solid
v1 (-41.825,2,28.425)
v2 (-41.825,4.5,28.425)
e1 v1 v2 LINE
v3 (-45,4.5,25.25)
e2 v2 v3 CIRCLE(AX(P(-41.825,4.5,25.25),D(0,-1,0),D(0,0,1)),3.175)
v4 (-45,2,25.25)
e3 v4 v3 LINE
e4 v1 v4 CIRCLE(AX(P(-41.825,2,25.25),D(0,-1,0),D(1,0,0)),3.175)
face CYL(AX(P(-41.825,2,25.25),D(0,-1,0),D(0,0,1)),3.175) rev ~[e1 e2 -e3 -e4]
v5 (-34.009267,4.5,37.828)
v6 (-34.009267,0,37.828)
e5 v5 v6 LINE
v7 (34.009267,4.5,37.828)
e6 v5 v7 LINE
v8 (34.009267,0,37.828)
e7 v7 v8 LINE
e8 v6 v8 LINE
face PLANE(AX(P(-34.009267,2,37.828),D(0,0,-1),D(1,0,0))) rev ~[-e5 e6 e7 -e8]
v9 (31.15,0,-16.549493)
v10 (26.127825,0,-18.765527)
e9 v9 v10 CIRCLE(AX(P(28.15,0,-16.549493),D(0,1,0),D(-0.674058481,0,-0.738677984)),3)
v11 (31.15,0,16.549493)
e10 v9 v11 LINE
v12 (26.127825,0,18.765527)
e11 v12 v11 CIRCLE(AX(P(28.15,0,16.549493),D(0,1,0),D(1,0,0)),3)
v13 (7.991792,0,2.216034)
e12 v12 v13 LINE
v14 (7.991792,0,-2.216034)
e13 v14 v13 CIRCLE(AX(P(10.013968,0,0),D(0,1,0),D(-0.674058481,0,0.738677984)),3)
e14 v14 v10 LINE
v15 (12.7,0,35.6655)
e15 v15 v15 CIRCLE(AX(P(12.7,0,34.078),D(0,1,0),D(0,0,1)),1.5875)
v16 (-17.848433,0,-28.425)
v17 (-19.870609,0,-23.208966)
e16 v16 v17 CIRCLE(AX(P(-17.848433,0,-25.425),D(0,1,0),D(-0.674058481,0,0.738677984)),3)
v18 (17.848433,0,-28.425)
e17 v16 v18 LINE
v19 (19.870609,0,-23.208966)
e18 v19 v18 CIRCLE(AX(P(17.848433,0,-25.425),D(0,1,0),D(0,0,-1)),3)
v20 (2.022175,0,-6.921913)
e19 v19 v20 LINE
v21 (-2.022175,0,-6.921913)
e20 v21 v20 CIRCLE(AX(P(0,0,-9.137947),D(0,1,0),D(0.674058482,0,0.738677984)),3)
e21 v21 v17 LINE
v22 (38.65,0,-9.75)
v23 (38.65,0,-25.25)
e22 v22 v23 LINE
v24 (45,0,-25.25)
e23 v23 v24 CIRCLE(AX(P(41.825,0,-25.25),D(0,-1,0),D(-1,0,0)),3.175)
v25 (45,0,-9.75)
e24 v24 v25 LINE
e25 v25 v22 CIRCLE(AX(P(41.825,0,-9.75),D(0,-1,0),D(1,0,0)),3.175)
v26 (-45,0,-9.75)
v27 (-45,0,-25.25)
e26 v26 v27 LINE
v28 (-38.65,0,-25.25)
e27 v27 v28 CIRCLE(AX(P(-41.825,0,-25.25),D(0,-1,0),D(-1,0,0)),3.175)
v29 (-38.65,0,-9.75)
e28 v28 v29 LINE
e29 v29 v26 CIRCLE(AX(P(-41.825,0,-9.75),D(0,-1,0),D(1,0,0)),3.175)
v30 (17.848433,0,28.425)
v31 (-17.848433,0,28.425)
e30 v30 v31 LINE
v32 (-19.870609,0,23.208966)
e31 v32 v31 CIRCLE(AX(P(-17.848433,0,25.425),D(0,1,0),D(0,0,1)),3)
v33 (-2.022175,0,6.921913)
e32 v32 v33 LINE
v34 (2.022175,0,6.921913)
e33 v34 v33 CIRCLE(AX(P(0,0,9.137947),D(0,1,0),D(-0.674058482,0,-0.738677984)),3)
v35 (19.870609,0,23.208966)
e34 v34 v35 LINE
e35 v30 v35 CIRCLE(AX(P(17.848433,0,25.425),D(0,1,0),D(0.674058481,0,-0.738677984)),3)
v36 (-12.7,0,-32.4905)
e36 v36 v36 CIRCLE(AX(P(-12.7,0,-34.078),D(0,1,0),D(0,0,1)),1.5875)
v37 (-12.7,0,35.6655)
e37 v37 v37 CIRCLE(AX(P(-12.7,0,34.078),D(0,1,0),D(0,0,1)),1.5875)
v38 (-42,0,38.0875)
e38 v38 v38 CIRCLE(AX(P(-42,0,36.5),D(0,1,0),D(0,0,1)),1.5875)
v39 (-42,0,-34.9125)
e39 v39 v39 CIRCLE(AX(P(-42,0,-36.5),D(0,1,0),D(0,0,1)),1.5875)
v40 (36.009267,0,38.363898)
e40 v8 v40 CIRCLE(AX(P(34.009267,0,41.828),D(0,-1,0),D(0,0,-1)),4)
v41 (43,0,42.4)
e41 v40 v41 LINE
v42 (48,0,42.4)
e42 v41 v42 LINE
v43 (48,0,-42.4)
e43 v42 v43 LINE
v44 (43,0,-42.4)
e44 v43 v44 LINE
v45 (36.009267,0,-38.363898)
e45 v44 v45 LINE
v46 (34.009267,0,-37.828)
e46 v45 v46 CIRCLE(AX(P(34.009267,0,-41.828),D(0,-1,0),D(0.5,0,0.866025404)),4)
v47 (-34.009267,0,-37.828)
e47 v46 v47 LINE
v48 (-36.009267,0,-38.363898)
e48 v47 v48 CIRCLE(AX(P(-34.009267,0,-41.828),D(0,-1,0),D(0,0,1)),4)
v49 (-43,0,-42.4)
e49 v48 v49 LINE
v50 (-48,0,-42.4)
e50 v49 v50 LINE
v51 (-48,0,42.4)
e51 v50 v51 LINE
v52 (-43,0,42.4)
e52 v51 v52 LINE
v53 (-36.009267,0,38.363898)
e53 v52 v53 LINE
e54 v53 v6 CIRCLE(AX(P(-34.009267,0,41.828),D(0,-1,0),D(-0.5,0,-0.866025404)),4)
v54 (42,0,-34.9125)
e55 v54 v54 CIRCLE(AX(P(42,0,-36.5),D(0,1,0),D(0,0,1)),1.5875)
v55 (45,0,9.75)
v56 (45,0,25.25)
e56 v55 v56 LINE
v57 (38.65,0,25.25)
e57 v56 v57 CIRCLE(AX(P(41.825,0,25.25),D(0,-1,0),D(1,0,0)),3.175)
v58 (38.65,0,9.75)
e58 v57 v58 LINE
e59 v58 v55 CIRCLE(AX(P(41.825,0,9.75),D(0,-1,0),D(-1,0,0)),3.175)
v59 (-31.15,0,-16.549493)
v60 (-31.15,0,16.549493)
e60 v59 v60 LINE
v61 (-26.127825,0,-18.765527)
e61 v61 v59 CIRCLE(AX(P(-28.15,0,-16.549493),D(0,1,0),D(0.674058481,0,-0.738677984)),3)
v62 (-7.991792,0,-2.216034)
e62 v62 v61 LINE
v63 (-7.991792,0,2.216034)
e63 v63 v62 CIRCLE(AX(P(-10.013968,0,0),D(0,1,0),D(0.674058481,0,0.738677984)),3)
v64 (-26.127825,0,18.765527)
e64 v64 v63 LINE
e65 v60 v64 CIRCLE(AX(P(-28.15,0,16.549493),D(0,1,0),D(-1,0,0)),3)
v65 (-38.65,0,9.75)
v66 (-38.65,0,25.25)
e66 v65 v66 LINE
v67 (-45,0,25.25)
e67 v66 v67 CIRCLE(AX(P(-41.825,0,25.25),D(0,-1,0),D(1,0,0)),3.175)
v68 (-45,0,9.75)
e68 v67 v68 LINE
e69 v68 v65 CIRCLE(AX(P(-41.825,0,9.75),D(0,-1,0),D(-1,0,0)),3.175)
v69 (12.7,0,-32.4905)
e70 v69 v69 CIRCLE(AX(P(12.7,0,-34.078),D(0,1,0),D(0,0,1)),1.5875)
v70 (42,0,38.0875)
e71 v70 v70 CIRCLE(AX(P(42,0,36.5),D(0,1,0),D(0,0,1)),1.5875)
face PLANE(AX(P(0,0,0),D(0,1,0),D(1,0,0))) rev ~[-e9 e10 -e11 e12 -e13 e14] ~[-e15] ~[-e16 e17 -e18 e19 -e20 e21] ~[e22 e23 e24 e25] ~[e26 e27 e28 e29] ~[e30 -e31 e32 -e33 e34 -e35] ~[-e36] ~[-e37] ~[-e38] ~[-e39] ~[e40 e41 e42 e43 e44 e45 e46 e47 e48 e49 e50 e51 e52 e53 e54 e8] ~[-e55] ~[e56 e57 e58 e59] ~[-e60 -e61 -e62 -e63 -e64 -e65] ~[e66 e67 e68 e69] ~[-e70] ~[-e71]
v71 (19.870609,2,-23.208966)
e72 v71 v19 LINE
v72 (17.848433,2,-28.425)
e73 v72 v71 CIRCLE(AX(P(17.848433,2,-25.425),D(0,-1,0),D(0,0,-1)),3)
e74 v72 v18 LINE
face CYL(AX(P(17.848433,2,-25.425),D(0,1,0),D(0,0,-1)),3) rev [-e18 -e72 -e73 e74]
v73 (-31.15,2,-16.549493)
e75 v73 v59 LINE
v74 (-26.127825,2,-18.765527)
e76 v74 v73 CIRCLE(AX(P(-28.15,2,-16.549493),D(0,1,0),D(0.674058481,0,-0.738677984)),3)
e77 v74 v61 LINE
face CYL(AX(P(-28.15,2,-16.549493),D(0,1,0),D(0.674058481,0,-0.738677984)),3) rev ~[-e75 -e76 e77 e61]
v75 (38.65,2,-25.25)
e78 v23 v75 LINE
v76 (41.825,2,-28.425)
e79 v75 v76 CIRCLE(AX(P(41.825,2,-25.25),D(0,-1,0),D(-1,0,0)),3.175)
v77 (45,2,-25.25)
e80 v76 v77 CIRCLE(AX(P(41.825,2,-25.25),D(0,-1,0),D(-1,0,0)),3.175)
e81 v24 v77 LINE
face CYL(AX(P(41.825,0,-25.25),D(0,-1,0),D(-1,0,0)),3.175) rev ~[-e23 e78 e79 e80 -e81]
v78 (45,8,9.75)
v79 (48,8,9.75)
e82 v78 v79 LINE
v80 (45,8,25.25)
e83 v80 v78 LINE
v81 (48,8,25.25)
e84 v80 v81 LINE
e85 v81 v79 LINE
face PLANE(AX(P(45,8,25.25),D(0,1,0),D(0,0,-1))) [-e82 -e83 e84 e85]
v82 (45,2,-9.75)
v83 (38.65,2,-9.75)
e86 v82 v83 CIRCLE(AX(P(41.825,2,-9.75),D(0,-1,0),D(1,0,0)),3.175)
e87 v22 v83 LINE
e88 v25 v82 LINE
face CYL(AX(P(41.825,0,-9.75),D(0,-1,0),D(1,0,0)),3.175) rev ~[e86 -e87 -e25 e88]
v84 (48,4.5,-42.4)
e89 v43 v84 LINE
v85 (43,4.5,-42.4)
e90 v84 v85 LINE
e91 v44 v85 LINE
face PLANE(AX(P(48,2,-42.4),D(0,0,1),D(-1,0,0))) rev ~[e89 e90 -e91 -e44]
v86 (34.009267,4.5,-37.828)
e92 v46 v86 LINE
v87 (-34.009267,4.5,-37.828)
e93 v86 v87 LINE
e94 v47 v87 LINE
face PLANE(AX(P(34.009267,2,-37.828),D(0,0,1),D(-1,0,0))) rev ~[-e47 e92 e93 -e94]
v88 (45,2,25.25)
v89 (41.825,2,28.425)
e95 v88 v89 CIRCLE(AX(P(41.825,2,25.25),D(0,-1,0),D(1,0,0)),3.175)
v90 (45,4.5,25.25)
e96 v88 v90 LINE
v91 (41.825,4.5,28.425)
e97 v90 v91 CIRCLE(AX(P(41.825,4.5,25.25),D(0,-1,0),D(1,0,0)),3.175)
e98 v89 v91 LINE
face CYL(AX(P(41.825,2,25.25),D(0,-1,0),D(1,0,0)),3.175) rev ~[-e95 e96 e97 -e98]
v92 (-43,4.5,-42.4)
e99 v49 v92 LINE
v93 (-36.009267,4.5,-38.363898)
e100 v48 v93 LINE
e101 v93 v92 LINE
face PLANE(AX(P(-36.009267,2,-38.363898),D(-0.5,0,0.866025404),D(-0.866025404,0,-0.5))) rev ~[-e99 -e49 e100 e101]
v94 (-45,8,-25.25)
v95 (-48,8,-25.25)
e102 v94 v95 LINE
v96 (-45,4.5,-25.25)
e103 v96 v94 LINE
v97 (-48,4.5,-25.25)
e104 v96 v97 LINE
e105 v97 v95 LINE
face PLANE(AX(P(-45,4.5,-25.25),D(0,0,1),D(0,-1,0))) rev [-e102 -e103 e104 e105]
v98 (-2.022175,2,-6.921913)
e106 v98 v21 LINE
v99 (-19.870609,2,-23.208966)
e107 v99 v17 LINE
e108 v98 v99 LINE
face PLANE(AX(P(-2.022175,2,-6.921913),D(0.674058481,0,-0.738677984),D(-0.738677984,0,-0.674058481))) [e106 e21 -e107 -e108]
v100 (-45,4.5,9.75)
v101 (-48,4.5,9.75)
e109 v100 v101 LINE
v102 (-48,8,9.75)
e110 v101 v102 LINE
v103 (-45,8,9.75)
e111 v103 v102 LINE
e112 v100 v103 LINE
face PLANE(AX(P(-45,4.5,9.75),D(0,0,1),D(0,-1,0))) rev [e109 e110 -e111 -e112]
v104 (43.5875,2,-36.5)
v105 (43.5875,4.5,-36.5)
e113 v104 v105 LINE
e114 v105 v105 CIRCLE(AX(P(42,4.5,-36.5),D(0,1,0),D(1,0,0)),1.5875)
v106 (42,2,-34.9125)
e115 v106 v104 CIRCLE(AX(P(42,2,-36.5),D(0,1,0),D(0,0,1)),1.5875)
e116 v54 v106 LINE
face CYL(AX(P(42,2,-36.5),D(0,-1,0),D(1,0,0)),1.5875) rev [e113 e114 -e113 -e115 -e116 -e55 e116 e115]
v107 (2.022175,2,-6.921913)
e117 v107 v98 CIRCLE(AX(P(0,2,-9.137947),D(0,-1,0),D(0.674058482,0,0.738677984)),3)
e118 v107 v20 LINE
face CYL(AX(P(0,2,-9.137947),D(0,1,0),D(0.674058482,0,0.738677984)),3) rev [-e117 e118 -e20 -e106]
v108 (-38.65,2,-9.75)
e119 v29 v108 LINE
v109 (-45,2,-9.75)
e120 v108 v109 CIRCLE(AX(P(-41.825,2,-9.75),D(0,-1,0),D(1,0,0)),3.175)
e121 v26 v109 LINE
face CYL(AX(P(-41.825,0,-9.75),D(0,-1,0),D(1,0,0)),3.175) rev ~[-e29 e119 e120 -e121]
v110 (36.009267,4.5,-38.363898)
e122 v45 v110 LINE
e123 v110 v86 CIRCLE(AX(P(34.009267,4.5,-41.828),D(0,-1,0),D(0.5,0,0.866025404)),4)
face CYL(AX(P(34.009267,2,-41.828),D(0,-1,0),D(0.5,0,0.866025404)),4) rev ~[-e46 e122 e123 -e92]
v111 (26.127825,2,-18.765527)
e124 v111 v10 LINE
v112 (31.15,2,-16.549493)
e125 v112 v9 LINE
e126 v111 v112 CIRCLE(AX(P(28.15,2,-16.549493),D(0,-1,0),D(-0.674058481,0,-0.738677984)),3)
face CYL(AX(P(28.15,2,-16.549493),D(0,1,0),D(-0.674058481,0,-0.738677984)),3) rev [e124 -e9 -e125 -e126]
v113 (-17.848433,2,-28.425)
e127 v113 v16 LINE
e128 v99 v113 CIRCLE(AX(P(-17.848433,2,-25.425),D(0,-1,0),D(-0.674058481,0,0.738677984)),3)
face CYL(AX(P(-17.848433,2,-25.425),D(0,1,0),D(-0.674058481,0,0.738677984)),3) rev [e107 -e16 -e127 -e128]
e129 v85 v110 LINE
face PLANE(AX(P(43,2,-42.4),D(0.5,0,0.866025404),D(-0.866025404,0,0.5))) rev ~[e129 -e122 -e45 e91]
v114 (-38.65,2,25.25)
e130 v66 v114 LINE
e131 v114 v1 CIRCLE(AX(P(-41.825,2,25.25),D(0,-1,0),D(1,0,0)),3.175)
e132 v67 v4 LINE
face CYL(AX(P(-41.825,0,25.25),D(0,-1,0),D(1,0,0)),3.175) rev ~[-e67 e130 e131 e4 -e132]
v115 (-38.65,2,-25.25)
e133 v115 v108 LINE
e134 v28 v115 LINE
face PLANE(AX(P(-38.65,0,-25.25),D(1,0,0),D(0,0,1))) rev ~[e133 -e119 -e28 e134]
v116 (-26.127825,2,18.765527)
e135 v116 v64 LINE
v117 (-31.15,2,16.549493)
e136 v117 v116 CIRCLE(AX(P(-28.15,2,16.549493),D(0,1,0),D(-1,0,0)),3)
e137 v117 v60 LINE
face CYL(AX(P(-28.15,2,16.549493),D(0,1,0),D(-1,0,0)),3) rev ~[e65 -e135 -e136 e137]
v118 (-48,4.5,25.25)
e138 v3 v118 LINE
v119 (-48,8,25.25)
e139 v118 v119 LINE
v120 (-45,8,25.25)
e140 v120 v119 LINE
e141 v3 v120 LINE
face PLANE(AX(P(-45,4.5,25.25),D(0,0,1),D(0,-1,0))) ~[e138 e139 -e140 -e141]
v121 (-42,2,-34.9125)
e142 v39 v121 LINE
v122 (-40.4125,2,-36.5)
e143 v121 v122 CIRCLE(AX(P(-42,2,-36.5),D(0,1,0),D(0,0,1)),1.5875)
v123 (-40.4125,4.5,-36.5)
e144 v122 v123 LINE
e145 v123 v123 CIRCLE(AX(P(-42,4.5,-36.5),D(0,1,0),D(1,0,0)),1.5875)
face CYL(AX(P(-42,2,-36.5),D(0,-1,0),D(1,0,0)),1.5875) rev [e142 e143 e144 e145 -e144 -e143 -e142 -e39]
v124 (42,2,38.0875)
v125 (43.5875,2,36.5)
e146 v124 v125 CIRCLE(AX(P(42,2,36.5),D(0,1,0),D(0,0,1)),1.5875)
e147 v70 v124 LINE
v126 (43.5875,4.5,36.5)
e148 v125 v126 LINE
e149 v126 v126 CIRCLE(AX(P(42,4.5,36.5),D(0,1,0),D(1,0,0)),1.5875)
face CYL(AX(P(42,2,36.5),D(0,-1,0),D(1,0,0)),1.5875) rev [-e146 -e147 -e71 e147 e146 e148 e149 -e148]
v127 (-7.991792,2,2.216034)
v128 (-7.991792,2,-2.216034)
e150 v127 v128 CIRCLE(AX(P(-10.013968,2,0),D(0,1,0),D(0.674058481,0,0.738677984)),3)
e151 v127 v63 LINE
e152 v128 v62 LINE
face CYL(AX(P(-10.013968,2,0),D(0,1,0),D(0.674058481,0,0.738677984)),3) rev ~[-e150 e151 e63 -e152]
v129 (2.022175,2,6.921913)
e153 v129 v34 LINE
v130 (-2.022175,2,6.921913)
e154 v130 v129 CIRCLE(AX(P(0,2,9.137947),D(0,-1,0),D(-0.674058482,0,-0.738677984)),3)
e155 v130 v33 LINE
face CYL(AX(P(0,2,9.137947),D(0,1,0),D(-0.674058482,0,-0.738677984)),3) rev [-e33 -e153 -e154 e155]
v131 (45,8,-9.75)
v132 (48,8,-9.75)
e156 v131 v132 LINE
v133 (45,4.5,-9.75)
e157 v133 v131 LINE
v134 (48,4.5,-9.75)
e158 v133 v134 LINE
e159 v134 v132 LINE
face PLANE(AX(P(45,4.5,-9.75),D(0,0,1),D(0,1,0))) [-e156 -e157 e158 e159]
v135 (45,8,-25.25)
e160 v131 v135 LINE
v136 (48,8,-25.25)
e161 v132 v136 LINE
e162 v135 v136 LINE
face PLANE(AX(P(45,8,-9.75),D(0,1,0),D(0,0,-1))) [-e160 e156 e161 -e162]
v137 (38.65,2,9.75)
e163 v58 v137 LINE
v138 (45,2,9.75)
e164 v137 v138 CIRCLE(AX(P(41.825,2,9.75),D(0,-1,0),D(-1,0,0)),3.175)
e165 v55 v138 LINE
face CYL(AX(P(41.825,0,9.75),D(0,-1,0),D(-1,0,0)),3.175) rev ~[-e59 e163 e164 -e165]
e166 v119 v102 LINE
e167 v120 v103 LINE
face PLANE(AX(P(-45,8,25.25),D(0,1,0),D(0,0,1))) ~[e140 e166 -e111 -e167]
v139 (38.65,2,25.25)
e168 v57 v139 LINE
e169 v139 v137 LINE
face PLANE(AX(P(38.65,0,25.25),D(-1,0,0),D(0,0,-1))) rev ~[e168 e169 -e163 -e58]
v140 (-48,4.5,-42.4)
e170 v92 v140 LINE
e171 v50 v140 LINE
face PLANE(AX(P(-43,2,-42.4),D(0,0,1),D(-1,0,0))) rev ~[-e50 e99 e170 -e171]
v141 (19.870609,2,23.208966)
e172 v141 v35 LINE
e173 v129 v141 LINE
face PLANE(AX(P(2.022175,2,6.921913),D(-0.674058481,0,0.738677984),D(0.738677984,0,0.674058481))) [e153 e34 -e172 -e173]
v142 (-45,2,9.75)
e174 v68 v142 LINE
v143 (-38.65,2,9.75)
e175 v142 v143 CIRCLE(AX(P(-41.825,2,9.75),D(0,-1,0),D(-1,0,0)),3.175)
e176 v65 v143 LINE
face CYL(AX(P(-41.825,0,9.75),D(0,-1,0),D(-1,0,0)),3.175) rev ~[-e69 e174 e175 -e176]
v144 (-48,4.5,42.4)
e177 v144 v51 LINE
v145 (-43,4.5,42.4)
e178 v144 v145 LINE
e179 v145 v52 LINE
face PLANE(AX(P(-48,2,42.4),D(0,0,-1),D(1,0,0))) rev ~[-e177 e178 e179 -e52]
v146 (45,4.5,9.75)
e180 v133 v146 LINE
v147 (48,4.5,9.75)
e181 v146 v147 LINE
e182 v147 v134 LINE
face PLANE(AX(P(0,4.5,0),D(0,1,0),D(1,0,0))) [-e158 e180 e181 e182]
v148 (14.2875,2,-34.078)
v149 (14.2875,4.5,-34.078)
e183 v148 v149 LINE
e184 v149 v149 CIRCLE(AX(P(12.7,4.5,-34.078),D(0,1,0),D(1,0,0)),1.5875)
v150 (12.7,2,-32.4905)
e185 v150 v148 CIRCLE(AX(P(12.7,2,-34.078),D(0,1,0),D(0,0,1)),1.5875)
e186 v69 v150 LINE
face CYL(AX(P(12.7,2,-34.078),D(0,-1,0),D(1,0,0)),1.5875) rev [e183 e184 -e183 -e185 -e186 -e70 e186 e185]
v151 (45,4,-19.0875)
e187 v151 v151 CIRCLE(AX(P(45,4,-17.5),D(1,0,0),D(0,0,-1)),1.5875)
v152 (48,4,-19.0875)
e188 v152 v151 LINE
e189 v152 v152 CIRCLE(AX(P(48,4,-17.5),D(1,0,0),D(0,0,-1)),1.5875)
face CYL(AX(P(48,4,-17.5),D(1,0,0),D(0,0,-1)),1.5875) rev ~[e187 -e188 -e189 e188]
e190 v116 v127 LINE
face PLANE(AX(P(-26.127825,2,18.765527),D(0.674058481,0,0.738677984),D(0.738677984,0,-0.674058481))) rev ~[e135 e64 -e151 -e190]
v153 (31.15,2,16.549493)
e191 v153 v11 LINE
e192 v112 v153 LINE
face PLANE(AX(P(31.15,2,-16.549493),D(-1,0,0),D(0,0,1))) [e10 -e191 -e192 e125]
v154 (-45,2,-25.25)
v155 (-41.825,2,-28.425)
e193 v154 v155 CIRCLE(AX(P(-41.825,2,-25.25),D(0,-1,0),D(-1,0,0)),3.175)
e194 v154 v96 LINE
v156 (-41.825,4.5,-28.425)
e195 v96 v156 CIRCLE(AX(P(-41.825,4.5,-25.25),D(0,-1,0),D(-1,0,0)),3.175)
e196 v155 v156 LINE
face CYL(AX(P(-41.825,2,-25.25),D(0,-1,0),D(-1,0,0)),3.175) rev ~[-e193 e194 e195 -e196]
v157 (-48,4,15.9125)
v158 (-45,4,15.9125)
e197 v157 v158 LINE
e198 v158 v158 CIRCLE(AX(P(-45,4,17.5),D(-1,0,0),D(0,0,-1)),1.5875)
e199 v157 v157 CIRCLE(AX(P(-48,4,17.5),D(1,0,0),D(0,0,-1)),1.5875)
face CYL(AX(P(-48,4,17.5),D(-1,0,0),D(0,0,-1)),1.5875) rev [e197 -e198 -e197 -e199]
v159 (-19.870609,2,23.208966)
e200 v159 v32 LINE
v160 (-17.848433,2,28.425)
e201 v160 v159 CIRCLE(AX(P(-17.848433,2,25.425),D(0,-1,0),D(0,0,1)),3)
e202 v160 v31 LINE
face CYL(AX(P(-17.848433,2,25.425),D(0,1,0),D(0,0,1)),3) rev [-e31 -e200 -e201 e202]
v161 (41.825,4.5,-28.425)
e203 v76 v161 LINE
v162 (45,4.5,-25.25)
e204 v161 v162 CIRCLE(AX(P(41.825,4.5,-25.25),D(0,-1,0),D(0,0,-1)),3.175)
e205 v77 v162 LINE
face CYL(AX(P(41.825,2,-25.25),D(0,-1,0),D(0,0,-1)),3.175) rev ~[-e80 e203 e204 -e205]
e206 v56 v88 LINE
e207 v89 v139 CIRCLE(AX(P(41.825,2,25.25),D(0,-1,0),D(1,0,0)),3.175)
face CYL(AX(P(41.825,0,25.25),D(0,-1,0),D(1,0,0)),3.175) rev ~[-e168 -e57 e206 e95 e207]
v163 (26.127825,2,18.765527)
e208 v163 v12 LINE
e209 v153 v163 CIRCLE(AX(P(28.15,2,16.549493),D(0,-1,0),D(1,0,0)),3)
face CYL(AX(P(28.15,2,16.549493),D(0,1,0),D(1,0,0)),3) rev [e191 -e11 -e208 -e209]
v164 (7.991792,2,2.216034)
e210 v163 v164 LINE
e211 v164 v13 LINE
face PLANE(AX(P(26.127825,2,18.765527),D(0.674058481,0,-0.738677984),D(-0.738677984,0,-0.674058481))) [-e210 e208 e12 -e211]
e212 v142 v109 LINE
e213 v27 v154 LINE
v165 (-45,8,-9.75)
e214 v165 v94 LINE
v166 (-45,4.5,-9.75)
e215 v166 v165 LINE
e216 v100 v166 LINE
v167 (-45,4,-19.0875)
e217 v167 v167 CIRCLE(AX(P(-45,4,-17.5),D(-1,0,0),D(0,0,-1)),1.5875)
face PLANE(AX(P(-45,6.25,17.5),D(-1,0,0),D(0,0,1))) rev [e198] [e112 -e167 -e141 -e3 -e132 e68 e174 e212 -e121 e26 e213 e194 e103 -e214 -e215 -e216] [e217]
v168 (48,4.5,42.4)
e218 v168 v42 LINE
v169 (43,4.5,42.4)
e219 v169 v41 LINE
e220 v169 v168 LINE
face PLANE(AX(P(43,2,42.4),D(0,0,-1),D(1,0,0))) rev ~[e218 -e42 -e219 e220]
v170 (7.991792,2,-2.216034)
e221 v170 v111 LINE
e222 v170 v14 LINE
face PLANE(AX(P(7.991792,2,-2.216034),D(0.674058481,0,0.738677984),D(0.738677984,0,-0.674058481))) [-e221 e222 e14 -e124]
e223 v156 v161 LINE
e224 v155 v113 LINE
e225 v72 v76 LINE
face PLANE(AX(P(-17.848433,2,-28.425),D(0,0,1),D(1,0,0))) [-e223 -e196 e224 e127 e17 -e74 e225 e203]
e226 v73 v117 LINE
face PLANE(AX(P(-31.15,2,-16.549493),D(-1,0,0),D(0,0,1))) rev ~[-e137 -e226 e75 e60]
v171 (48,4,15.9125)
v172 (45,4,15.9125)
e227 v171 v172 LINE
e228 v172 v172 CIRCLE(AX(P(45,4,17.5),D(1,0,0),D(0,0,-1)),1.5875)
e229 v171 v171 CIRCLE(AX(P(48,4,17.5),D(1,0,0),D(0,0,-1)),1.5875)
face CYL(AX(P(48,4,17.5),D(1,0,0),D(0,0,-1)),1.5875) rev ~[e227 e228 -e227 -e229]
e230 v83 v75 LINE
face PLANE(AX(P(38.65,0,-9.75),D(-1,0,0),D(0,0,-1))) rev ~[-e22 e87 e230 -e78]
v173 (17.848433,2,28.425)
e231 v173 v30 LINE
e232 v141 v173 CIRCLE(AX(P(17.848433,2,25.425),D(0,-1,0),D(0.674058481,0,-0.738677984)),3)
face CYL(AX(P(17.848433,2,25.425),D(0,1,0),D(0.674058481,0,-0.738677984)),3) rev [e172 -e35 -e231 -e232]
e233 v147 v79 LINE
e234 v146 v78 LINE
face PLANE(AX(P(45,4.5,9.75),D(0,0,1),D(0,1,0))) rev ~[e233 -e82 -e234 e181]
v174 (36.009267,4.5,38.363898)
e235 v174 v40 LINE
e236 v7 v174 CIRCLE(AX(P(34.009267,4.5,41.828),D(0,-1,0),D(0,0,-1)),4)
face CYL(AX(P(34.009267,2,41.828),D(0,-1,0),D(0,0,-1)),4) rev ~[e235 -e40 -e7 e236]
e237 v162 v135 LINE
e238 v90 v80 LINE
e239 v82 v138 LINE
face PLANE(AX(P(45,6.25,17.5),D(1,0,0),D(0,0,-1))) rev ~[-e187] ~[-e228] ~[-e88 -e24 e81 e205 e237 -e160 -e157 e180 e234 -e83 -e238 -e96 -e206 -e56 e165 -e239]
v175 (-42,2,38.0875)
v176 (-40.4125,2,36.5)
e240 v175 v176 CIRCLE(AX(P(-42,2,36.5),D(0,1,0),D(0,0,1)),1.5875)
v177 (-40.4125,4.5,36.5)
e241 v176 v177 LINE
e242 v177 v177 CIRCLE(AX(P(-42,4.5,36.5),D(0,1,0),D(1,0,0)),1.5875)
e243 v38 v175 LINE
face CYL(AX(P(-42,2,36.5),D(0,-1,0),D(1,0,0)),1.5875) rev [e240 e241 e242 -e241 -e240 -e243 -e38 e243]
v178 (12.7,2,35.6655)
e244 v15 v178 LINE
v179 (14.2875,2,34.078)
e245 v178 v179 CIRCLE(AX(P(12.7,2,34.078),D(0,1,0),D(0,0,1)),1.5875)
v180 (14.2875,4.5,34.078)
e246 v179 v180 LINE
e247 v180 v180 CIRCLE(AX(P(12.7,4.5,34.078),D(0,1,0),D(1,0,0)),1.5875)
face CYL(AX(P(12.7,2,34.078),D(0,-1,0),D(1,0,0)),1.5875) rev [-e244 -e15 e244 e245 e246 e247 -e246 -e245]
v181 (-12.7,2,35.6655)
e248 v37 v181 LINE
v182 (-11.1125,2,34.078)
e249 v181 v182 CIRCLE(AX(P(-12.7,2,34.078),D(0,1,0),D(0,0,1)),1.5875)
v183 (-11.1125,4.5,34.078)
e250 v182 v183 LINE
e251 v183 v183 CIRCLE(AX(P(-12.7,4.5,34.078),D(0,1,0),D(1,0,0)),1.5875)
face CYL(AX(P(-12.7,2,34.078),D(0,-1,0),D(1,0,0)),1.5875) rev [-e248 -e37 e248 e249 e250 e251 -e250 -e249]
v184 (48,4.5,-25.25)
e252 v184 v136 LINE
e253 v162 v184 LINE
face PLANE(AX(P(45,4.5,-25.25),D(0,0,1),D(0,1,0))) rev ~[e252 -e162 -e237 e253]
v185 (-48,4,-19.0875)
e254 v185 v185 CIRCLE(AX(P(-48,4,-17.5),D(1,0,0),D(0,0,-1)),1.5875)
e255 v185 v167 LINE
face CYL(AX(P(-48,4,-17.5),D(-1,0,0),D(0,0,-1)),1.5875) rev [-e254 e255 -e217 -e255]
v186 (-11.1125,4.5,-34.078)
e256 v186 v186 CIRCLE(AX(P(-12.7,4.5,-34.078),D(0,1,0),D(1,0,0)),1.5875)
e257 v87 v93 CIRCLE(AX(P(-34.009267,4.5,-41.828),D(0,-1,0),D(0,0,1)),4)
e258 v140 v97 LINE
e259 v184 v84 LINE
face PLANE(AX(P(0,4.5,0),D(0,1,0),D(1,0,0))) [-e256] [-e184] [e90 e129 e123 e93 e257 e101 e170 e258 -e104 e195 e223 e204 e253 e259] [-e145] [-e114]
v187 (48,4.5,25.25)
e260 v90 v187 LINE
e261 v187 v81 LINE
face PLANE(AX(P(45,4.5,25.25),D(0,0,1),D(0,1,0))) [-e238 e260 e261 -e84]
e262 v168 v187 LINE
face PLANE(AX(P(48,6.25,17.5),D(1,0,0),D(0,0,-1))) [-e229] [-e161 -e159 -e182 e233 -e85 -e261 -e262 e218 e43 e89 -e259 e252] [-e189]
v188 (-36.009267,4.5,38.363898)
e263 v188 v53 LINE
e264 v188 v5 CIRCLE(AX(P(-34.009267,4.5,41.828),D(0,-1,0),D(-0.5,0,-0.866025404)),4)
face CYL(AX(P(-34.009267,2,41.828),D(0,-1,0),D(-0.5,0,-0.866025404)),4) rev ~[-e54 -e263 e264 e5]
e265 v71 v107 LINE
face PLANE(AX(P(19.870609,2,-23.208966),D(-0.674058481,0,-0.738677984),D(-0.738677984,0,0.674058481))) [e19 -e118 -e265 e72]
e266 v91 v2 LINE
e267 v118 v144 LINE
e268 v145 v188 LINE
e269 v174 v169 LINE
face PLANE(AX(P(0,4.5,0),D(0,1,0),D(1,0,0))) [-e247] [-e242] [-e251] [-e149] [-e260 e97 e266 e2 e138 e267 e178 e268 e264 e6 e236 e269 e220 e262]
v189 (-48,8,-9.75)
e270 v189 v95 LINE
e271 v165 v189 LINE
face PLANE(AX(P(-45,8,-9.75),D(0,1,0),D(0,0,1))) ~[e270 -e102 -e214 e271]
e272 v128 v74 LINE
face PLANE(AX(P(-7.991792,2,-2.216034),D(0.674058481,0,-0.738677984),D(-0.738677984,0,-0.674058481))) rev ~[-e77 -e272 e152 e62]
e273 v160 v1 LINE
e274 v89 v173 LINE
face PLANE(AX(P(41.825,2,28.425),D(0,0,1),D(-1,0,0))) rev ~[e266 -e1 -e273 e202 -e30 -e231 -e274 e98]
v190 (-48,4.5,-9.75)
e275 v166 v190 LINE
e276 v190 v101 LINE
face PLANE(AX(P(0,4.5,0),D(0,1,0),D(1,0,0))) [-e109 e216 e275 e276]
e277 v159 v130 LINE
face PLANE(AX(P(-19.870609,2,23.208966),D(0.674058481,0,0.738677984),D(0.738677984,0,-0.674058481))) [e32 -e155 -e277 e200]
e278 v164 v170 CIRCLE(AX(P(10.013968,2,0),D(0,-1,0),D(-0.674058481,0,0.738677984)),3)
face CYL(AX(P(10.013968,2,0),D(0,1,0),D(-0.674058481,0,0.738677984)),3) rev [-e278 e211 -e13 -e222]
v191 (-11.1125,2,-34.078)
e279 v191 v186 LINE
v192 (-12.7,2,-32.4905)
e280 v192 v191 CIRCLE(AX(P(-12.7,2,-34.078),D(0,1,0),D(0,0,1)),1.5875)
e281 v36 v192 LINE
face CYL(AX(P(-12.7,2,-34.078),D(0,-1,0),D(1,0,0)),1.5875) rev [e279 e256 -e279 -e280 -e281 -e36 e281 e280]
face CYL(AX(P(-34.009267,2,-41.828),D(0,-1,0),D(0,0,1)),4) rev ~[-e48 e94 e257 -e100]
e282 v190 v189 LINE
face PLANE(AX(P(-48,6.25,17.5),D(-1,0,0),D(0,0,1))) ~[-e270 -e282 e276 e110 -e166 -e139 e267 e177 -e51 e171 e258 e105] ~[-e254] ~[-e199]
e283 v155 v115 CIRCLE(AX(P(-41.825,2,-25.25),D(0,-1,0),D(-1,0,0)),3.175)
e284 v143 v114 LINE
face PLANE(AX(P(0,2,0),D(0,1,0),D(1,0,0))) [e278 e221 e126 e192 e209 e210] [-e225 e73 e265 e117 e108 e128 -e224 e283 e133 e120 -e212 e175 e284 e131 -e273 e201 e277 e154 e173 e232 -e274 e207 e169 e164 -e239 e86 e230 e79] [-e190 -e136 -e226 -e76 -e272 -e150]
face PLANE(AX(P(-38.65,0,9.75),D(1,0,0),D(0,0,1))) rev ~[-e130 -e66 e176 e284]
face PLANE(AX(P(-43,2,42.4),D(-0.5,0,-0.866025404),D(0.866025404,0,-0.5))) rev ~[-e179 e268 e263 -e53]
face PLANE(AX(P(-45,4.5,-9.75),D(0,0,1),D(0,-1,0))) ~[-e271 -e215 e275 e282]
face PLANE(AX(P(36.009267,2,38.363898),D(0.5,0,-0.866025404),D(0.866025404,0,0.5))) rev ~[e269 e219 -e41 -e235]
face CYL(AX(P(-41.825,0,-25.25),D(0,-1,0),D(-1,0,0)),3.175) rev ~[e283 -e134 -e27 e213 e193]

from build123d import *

# Parameters (mm, degrees)
SKETCH1_R           = 1.5875
BOSS_EXTRUDE1_DEPTH = 2
SKETCH2_R           = 1.5875
BOSS_EXTRUDE2_DEPTH = 2.5
BOSS_EXTRUDE3_START = -3
SKETCH3_W           = 15.5
SKETCH3_H           = 3.5
BOSS_EXTRUDE3_DEPTH = 3
SKETCH4_R           = 1.5875
CUT_EXTRUDE1_DEPTH  = 5
CUT_EXTRUDE2_DEPTH  = 65.325422657


with BuildPart() as part:
    # Sketch1 → Boss-Extrude1 (new body)
    with BuildSketch(Plane(origin=(0, 0, 0), x_dir=(1, 0, 0), z_dir=(0, 1, 0))):
        with BuildLine():
            Line((-48, -42.4), (-43, -42.4))
            Line((-43, -42.4), (-36.009266938, -38.363898385))
            ThreePointArc((-36.009266938, -38.363898385), (-35.044543118, -37.964296695), (-34.009266938, -37.828))
            Line((-34.009266938, -37.828), (34.009266938, -37.828))
            ThreePointArc((34.009266938, -37.828), (35.044543118, -37.964296695), (36.009266938, -38.363898385))
            Line((36.009266938, -38.363898385), (43, -42.4))
            Line((43, -42.4), (48, -42.4))
            Line((48, -42.4), (48, 42.4))
            Line((48, 42.4), (43, 42.4))
            Line((43, 42.4), (36.009266938, 38.363898385))
            ThreePointArc((36.009266938, 38.363898385), (35.044543118, 37.964296695), (34.009266938, 37.828))
            Line((34.009266938, 37.828), (-34.009266938, 37.828))
            ThreePointArc((-34.009266938, 37.828), (-35.044543118, 37.964296695), (-36.009266938, 38.363898385))
            Line((-36.009266938, 38.363898385), (-43, 42.4))
            Line((-43, 42.4), (-48, 42.4))
            Line((-48, 42.4), (-48, -42.4))
        make_face()
        with Locations(Location((-12.7, -34.078, 0), (0, 0, 270))):
            Circle(SKETCH1_R, mode=Mode.SUBTRACT)
        with Locations(Location((12.7, -34.078, 0), (0, 0, 270))):
            Circle(SKETCH1_R, mode=Mode.SUBTRACT)
        with Locations(Location((-12.7, 34.078, 0), (0, 0, 270))):
            Circle(SKETCH1_R, mode=Mode.SUBTRACT)
        with Locations(Location((12.7, 34.078, 0), (0, 0, 270))):
            Circle(SKETCH1_R, mode=Mode.SUBTRACT)
        with Locations(Location((-42, 36.5, 0), (0, 0, 270))):
            Circle(SKETCH1_R, mode=Mode.SUBTRACT)
        with Locations(Location((42, 36.5, 0), (0, 0, 270))):
            Circle(SKETCH1_R, mode=Mode.SUBTRACT)
        with Locations(Location((42, -36.5, 0), (0, 0, 270))):
            Circle(SKETCH1_R, mode=Mode.SUBTRACT)
        with Locations(Location((-42, -36.5, 0), (0, 0, 270))):
            Circle(SKETCH1_R, mode=Mode.SUBTRACT)
        with BuildLine():
            Line((-38.65, 25.25), (-38.65, 9.75))
            ThreePointArc((-38.65, 9.75), (-41.825, 6.575), (-45, 9.75))
            Line((-45, 9.75), (-45, 25.25))
            ThreePointArc((-45, 25.25), (-41.825, 28.425), (-38.65, 25.25))
        make_face(mode=Mode.SUBTRACT)
        with BuildLine():
            Line((-38.65, -9.75), (-38.65, -25.25))
            ThreePointArc((-38.65, -25.25), (-41.825, -28.425), (-45, -25.25))
            Line((-45, -25.25), (-45, -9.75))
            ThreePointArc((-45, -9.75), (-41.825, -6.575), (-38.65, -9.75))
        make_face(mode=Mode.SUBTRACT)
        with BuildLine():
            Line((45, 25.25), (45, 9.75))
            ThreePointArc((45, 9.75), (41.825, 6.575), (38.65, 9.75))
            Line((38.65, 9.75), (38.65, 25.25))
            ThreePointArc((38.65, 25.25), (41.825, 28.425), (45, 25.25))
        make_face(mode=Mode.SUBTRACT)
        with BuildLine():
            Line((45, -9.75), (45, -25.25))
            ThreePointArc((45, -25.25), (41.825, -28.425), (38.65, -25.25))
            Line((38.65, -25.25), (38.65, -9.75))
            ThreePointArc((38.65, -9.75), (41.825, -6.575), (45, -9.75))
        make_face(mode=Mode.SUBTRACT)
    extrude(amount=BOSS_EXTRUDE1_DEPTH)

    # Sketch2 → Boss-Extrude2 (add)
    with BuildSketch(Plane(origin=(0, 2, 0), x_dir=(1, 0, 0), z_dir=(0, 1, 0))):
        with BuildLine():
            Line((48, -42.4), (48, 42.4))
            Line((48, 42.4), (43, 42.4))
            Line((43, 42.4), (36.009266938, 38.363898385))
            ThreePointArc((36.009266938, 38.363898385), (35.044543118, 37.964296695), (34.009266938, 37.828))
            Line((34.009266938, 37.828), (-34.009266938, 37.828))
            ThreePointArc((-34.009266938, 37.828), (-35.044543118, 37.964296695), (-36.009266938, 38.363898385))
            Line((-36.009266938, 38.363898385), (-43, 42.4))
            Line((-43, 42.4), (-48, 42.4))
            Line((-48, 42.4), (-48, -42.4))
            Line((-48, -42.4), (-43, -42.4))
            Line((-43, -42.4), (-36.009266938, -38.363898385))
            ThreePointArc((-36.009266938, -38.363898385), (-35.044543118, -37.964296695), (-34.009266938, -37.828))
            Line((-34.009266938, -37.828), (34.009266938, -37.828))
            ThreePointArc((34.009266938, -37.828), (35.044543118, -37.964296695), (36.009266938, -38.363898385))
            Line((36.009266938, -38.363898385), (43, -42.4))
            Line((43, -42.4), (48, -42.4))
        make_face()
        with Locations((-42, -36.5)):
            Circle(SKETCH2_R, mode=Mode.SUBTRACT)
        with Locations((-12.7, -34.078)):
            Circle(SKETCH2_R, mode=Mode.SUBTRACT)
        with Locations((12.7, -34.078)):
            Circle(SKETCH2_R, mode=Mode.SUBTRACT)
        with Locations((42, -36.5)):
            Circle(SKETCH2_R, mode=Mode.SUBTRACT)
        with Locations((-42, 36.5)):
            Circle(SKETCH2_R, mode=Mode.SUBTRACT)
        with Locations((-12.7, 34.078)):
            Circle(SKETCH2_R, mode=Mode.SUBTRACT)
        with BuildLine():
            Line((45, 9.75), (45, -9.75))
            Line((45, -9.75), (45, -25.25))
            ThreePointArc((45, -25.25), (44.07006403, -27.49506403), (41.825, -28.425))
            Line((41.825, -28.425), (-41.825, -28.425))
            ThreePointArc((-41.825, -28.425), (-44.07006403, -27.49506403), (-45, -25.25))
            Line((-45, -25.25), (-45, -9.75))
            Line((-45, -9.75), (-45, 9.75))
            Line((-45, 9.75), (-45, 25.25))
            ThreePointArc((-45, 25.25), (-44.07006403, 27.49506403), (-41.825, 28.425))
            Line((-41.825, 28.425), (41.825, 28.425))
            ThreePointArc((41.825, 28.425), (44.07006403, 27.49506403), (45, 25.25))
            Line((45, 25.25), (45, 9.75))
        make_face(mode=Mode.SUBTRACT)
        with Locations((12.7, 34.078)):
            Circle(SKETCH2_R, mode=Mode.SUBTRACT)
        with Locations((42, 36.5)):
            Circle(SKETCH2_R, mode=Mode.SUBTRACT)
    extrude(amount=BOSS_EXTRUDE2_DEPTH)

    # Sketch3 → Boss-Extrude3 (add)
    with BuildSketch(Plane(origin=(48, 0, 0), x_dir=(0, 0, -1), z_dir=(1, 0, 0)).offset(BOSS_EXTRUDE3_START)):
        with Locations((-17.5, 6.25)):
            Rectangle(SKETCH3_W, SKETCH3_H)
        with Locations((17.5, 6.25)):
            Rectangle(SKETCH3_W, SKETCH3_H)
    boss_extrude3 = extrude(amount=BOSS_EXTRUDE3_DEPTH)

    # Sketch4 → Cut-Extrude1 (cut)
    with BuildSketch(Plane(origin=(48, 0, 0), x_dir=(0, 0, -1), z_dir=(1, 0, 0))):
        with Locations((-17.5, 4)):
            Circle(SKETCH4_R)
        with Locations((17.5, 4)):
            Circle(SKETCH4_R)
    cut_extrude1 = extrude(amount=-CUT_EXTRUDE1_DEPTH, mode=Mode.SUBTRACT)

    # Mirror1: Boss-Extrude3, Cut-Extrude1 across plane
    add(boss_extrude3.mirror(Plane(origin=(0, 0, 0), x_dir=(0, 0, 1), z_dir=(1, 0, 0))))
    add(cut_extrude1.mirror(Plane(origin=(0, 0, 0), x_dir=(0, 0, 1), z_dir=(1, 0, 0))), mode=Mode.SUBTRACT)

    # Sketch5 → Cut-Extrude2 (cut, through all)
    with BuildSketch(Plane(origin=(0, 2, 0), x_dir=(1, 0, 0), z_dir=(0, 1, 0))):
        with BuildLine():
            Line((-26.127824556, -18.76552712), (-7.991792465, -2.216033952))
            ThreePointArc((-7.991792465, -2.216033952), (-7.013967909, 0), (-7.991792465, 2.216033952))
            Line((-7.991792465, 2.216033952), (-26.127824556, 18.76552712))
            ThreePointArc((-26.127824556, 18.76552712), (-29.361089111, 19.294172233), (-31.15, 16.549493168))
            Line((-31.15, 16.549493168), (-31.15, -16.549493168))
            ThreePointArc((-31.15, -16.549493168), (-29.361089111, -19.294172233), (-26.127824556, -18.76552712))
        make_face()
        with BuildLine():
            Line((19.87060859, 23.208966048), (2.022175444, 6.921912688))
            ThreePointArc((2.022175444, 6.921912688), (0, 6.137946639), (-2.022175444, 6.921912688))
            Line((-2.022175444, 6.921912688), (-19.87060859, 23.208966048))
            ThreePointArc((-19.87060859, 23.208966048), (-20.645583648, 26.509411856), (-17.848433147, 28.425))
            Line((-17.848433147, 28.425), (17.848433147, 28.425))
            ThreePointArc((17.848433147, 28.425), (20.645583648, 26.509411856), (19.87060859, 23.208966048))
        make_face()
        with BuildLine():
            Line((-19.87060859, -23.208966048), (-2.022175444, -6.921912688))
            ThreePointArc((-2.022175444, -6.921912688), (0, -6.137946639), (2.022175444, -6.921912688))
            Line((2.022175444, -6.921912688), (19.87060859, -23.208966048))
            ThreePointArc((19.87060859, -23.208966048), (20.645583648, -26.509411856), (17.848433147, -28.425))
            Line((17.848433147, -28.425), (-17.848433147, -28.425))
            ThreePointArc((-17.848433147, -28.425), (-20.645583648, -26.509411856), (-19.87060859, -23.208966048))
        make_face()
        with BuildLine():
            Line((7.991792465, 2.216033952), (26.127824556, 18.76552712))
            ThreePointArc((26.127824556, 18.76552712), (29.361089111, 19.294172233), (31.15, 16.549493168))
            Line((31.15, 16.549493168), (31.15, -16.549493168))
            ThreePointArc((31.15, -16.549493168), (29.361089111, -19.294172233), (26.127824556, -18.76552712))
            Line((26.127824556, -18.76552712), (7.991792465, -2.216033952))
            ThreePointArc((7.991792465, -2.216033952), (7.013967909, 0), (7.991792465, 2.216033952))
        make_face()
    extrude(amount=-CUT_EXTRUDE2_DEPTH, mode=Mode.SUBTRACT)


solid = part.part
